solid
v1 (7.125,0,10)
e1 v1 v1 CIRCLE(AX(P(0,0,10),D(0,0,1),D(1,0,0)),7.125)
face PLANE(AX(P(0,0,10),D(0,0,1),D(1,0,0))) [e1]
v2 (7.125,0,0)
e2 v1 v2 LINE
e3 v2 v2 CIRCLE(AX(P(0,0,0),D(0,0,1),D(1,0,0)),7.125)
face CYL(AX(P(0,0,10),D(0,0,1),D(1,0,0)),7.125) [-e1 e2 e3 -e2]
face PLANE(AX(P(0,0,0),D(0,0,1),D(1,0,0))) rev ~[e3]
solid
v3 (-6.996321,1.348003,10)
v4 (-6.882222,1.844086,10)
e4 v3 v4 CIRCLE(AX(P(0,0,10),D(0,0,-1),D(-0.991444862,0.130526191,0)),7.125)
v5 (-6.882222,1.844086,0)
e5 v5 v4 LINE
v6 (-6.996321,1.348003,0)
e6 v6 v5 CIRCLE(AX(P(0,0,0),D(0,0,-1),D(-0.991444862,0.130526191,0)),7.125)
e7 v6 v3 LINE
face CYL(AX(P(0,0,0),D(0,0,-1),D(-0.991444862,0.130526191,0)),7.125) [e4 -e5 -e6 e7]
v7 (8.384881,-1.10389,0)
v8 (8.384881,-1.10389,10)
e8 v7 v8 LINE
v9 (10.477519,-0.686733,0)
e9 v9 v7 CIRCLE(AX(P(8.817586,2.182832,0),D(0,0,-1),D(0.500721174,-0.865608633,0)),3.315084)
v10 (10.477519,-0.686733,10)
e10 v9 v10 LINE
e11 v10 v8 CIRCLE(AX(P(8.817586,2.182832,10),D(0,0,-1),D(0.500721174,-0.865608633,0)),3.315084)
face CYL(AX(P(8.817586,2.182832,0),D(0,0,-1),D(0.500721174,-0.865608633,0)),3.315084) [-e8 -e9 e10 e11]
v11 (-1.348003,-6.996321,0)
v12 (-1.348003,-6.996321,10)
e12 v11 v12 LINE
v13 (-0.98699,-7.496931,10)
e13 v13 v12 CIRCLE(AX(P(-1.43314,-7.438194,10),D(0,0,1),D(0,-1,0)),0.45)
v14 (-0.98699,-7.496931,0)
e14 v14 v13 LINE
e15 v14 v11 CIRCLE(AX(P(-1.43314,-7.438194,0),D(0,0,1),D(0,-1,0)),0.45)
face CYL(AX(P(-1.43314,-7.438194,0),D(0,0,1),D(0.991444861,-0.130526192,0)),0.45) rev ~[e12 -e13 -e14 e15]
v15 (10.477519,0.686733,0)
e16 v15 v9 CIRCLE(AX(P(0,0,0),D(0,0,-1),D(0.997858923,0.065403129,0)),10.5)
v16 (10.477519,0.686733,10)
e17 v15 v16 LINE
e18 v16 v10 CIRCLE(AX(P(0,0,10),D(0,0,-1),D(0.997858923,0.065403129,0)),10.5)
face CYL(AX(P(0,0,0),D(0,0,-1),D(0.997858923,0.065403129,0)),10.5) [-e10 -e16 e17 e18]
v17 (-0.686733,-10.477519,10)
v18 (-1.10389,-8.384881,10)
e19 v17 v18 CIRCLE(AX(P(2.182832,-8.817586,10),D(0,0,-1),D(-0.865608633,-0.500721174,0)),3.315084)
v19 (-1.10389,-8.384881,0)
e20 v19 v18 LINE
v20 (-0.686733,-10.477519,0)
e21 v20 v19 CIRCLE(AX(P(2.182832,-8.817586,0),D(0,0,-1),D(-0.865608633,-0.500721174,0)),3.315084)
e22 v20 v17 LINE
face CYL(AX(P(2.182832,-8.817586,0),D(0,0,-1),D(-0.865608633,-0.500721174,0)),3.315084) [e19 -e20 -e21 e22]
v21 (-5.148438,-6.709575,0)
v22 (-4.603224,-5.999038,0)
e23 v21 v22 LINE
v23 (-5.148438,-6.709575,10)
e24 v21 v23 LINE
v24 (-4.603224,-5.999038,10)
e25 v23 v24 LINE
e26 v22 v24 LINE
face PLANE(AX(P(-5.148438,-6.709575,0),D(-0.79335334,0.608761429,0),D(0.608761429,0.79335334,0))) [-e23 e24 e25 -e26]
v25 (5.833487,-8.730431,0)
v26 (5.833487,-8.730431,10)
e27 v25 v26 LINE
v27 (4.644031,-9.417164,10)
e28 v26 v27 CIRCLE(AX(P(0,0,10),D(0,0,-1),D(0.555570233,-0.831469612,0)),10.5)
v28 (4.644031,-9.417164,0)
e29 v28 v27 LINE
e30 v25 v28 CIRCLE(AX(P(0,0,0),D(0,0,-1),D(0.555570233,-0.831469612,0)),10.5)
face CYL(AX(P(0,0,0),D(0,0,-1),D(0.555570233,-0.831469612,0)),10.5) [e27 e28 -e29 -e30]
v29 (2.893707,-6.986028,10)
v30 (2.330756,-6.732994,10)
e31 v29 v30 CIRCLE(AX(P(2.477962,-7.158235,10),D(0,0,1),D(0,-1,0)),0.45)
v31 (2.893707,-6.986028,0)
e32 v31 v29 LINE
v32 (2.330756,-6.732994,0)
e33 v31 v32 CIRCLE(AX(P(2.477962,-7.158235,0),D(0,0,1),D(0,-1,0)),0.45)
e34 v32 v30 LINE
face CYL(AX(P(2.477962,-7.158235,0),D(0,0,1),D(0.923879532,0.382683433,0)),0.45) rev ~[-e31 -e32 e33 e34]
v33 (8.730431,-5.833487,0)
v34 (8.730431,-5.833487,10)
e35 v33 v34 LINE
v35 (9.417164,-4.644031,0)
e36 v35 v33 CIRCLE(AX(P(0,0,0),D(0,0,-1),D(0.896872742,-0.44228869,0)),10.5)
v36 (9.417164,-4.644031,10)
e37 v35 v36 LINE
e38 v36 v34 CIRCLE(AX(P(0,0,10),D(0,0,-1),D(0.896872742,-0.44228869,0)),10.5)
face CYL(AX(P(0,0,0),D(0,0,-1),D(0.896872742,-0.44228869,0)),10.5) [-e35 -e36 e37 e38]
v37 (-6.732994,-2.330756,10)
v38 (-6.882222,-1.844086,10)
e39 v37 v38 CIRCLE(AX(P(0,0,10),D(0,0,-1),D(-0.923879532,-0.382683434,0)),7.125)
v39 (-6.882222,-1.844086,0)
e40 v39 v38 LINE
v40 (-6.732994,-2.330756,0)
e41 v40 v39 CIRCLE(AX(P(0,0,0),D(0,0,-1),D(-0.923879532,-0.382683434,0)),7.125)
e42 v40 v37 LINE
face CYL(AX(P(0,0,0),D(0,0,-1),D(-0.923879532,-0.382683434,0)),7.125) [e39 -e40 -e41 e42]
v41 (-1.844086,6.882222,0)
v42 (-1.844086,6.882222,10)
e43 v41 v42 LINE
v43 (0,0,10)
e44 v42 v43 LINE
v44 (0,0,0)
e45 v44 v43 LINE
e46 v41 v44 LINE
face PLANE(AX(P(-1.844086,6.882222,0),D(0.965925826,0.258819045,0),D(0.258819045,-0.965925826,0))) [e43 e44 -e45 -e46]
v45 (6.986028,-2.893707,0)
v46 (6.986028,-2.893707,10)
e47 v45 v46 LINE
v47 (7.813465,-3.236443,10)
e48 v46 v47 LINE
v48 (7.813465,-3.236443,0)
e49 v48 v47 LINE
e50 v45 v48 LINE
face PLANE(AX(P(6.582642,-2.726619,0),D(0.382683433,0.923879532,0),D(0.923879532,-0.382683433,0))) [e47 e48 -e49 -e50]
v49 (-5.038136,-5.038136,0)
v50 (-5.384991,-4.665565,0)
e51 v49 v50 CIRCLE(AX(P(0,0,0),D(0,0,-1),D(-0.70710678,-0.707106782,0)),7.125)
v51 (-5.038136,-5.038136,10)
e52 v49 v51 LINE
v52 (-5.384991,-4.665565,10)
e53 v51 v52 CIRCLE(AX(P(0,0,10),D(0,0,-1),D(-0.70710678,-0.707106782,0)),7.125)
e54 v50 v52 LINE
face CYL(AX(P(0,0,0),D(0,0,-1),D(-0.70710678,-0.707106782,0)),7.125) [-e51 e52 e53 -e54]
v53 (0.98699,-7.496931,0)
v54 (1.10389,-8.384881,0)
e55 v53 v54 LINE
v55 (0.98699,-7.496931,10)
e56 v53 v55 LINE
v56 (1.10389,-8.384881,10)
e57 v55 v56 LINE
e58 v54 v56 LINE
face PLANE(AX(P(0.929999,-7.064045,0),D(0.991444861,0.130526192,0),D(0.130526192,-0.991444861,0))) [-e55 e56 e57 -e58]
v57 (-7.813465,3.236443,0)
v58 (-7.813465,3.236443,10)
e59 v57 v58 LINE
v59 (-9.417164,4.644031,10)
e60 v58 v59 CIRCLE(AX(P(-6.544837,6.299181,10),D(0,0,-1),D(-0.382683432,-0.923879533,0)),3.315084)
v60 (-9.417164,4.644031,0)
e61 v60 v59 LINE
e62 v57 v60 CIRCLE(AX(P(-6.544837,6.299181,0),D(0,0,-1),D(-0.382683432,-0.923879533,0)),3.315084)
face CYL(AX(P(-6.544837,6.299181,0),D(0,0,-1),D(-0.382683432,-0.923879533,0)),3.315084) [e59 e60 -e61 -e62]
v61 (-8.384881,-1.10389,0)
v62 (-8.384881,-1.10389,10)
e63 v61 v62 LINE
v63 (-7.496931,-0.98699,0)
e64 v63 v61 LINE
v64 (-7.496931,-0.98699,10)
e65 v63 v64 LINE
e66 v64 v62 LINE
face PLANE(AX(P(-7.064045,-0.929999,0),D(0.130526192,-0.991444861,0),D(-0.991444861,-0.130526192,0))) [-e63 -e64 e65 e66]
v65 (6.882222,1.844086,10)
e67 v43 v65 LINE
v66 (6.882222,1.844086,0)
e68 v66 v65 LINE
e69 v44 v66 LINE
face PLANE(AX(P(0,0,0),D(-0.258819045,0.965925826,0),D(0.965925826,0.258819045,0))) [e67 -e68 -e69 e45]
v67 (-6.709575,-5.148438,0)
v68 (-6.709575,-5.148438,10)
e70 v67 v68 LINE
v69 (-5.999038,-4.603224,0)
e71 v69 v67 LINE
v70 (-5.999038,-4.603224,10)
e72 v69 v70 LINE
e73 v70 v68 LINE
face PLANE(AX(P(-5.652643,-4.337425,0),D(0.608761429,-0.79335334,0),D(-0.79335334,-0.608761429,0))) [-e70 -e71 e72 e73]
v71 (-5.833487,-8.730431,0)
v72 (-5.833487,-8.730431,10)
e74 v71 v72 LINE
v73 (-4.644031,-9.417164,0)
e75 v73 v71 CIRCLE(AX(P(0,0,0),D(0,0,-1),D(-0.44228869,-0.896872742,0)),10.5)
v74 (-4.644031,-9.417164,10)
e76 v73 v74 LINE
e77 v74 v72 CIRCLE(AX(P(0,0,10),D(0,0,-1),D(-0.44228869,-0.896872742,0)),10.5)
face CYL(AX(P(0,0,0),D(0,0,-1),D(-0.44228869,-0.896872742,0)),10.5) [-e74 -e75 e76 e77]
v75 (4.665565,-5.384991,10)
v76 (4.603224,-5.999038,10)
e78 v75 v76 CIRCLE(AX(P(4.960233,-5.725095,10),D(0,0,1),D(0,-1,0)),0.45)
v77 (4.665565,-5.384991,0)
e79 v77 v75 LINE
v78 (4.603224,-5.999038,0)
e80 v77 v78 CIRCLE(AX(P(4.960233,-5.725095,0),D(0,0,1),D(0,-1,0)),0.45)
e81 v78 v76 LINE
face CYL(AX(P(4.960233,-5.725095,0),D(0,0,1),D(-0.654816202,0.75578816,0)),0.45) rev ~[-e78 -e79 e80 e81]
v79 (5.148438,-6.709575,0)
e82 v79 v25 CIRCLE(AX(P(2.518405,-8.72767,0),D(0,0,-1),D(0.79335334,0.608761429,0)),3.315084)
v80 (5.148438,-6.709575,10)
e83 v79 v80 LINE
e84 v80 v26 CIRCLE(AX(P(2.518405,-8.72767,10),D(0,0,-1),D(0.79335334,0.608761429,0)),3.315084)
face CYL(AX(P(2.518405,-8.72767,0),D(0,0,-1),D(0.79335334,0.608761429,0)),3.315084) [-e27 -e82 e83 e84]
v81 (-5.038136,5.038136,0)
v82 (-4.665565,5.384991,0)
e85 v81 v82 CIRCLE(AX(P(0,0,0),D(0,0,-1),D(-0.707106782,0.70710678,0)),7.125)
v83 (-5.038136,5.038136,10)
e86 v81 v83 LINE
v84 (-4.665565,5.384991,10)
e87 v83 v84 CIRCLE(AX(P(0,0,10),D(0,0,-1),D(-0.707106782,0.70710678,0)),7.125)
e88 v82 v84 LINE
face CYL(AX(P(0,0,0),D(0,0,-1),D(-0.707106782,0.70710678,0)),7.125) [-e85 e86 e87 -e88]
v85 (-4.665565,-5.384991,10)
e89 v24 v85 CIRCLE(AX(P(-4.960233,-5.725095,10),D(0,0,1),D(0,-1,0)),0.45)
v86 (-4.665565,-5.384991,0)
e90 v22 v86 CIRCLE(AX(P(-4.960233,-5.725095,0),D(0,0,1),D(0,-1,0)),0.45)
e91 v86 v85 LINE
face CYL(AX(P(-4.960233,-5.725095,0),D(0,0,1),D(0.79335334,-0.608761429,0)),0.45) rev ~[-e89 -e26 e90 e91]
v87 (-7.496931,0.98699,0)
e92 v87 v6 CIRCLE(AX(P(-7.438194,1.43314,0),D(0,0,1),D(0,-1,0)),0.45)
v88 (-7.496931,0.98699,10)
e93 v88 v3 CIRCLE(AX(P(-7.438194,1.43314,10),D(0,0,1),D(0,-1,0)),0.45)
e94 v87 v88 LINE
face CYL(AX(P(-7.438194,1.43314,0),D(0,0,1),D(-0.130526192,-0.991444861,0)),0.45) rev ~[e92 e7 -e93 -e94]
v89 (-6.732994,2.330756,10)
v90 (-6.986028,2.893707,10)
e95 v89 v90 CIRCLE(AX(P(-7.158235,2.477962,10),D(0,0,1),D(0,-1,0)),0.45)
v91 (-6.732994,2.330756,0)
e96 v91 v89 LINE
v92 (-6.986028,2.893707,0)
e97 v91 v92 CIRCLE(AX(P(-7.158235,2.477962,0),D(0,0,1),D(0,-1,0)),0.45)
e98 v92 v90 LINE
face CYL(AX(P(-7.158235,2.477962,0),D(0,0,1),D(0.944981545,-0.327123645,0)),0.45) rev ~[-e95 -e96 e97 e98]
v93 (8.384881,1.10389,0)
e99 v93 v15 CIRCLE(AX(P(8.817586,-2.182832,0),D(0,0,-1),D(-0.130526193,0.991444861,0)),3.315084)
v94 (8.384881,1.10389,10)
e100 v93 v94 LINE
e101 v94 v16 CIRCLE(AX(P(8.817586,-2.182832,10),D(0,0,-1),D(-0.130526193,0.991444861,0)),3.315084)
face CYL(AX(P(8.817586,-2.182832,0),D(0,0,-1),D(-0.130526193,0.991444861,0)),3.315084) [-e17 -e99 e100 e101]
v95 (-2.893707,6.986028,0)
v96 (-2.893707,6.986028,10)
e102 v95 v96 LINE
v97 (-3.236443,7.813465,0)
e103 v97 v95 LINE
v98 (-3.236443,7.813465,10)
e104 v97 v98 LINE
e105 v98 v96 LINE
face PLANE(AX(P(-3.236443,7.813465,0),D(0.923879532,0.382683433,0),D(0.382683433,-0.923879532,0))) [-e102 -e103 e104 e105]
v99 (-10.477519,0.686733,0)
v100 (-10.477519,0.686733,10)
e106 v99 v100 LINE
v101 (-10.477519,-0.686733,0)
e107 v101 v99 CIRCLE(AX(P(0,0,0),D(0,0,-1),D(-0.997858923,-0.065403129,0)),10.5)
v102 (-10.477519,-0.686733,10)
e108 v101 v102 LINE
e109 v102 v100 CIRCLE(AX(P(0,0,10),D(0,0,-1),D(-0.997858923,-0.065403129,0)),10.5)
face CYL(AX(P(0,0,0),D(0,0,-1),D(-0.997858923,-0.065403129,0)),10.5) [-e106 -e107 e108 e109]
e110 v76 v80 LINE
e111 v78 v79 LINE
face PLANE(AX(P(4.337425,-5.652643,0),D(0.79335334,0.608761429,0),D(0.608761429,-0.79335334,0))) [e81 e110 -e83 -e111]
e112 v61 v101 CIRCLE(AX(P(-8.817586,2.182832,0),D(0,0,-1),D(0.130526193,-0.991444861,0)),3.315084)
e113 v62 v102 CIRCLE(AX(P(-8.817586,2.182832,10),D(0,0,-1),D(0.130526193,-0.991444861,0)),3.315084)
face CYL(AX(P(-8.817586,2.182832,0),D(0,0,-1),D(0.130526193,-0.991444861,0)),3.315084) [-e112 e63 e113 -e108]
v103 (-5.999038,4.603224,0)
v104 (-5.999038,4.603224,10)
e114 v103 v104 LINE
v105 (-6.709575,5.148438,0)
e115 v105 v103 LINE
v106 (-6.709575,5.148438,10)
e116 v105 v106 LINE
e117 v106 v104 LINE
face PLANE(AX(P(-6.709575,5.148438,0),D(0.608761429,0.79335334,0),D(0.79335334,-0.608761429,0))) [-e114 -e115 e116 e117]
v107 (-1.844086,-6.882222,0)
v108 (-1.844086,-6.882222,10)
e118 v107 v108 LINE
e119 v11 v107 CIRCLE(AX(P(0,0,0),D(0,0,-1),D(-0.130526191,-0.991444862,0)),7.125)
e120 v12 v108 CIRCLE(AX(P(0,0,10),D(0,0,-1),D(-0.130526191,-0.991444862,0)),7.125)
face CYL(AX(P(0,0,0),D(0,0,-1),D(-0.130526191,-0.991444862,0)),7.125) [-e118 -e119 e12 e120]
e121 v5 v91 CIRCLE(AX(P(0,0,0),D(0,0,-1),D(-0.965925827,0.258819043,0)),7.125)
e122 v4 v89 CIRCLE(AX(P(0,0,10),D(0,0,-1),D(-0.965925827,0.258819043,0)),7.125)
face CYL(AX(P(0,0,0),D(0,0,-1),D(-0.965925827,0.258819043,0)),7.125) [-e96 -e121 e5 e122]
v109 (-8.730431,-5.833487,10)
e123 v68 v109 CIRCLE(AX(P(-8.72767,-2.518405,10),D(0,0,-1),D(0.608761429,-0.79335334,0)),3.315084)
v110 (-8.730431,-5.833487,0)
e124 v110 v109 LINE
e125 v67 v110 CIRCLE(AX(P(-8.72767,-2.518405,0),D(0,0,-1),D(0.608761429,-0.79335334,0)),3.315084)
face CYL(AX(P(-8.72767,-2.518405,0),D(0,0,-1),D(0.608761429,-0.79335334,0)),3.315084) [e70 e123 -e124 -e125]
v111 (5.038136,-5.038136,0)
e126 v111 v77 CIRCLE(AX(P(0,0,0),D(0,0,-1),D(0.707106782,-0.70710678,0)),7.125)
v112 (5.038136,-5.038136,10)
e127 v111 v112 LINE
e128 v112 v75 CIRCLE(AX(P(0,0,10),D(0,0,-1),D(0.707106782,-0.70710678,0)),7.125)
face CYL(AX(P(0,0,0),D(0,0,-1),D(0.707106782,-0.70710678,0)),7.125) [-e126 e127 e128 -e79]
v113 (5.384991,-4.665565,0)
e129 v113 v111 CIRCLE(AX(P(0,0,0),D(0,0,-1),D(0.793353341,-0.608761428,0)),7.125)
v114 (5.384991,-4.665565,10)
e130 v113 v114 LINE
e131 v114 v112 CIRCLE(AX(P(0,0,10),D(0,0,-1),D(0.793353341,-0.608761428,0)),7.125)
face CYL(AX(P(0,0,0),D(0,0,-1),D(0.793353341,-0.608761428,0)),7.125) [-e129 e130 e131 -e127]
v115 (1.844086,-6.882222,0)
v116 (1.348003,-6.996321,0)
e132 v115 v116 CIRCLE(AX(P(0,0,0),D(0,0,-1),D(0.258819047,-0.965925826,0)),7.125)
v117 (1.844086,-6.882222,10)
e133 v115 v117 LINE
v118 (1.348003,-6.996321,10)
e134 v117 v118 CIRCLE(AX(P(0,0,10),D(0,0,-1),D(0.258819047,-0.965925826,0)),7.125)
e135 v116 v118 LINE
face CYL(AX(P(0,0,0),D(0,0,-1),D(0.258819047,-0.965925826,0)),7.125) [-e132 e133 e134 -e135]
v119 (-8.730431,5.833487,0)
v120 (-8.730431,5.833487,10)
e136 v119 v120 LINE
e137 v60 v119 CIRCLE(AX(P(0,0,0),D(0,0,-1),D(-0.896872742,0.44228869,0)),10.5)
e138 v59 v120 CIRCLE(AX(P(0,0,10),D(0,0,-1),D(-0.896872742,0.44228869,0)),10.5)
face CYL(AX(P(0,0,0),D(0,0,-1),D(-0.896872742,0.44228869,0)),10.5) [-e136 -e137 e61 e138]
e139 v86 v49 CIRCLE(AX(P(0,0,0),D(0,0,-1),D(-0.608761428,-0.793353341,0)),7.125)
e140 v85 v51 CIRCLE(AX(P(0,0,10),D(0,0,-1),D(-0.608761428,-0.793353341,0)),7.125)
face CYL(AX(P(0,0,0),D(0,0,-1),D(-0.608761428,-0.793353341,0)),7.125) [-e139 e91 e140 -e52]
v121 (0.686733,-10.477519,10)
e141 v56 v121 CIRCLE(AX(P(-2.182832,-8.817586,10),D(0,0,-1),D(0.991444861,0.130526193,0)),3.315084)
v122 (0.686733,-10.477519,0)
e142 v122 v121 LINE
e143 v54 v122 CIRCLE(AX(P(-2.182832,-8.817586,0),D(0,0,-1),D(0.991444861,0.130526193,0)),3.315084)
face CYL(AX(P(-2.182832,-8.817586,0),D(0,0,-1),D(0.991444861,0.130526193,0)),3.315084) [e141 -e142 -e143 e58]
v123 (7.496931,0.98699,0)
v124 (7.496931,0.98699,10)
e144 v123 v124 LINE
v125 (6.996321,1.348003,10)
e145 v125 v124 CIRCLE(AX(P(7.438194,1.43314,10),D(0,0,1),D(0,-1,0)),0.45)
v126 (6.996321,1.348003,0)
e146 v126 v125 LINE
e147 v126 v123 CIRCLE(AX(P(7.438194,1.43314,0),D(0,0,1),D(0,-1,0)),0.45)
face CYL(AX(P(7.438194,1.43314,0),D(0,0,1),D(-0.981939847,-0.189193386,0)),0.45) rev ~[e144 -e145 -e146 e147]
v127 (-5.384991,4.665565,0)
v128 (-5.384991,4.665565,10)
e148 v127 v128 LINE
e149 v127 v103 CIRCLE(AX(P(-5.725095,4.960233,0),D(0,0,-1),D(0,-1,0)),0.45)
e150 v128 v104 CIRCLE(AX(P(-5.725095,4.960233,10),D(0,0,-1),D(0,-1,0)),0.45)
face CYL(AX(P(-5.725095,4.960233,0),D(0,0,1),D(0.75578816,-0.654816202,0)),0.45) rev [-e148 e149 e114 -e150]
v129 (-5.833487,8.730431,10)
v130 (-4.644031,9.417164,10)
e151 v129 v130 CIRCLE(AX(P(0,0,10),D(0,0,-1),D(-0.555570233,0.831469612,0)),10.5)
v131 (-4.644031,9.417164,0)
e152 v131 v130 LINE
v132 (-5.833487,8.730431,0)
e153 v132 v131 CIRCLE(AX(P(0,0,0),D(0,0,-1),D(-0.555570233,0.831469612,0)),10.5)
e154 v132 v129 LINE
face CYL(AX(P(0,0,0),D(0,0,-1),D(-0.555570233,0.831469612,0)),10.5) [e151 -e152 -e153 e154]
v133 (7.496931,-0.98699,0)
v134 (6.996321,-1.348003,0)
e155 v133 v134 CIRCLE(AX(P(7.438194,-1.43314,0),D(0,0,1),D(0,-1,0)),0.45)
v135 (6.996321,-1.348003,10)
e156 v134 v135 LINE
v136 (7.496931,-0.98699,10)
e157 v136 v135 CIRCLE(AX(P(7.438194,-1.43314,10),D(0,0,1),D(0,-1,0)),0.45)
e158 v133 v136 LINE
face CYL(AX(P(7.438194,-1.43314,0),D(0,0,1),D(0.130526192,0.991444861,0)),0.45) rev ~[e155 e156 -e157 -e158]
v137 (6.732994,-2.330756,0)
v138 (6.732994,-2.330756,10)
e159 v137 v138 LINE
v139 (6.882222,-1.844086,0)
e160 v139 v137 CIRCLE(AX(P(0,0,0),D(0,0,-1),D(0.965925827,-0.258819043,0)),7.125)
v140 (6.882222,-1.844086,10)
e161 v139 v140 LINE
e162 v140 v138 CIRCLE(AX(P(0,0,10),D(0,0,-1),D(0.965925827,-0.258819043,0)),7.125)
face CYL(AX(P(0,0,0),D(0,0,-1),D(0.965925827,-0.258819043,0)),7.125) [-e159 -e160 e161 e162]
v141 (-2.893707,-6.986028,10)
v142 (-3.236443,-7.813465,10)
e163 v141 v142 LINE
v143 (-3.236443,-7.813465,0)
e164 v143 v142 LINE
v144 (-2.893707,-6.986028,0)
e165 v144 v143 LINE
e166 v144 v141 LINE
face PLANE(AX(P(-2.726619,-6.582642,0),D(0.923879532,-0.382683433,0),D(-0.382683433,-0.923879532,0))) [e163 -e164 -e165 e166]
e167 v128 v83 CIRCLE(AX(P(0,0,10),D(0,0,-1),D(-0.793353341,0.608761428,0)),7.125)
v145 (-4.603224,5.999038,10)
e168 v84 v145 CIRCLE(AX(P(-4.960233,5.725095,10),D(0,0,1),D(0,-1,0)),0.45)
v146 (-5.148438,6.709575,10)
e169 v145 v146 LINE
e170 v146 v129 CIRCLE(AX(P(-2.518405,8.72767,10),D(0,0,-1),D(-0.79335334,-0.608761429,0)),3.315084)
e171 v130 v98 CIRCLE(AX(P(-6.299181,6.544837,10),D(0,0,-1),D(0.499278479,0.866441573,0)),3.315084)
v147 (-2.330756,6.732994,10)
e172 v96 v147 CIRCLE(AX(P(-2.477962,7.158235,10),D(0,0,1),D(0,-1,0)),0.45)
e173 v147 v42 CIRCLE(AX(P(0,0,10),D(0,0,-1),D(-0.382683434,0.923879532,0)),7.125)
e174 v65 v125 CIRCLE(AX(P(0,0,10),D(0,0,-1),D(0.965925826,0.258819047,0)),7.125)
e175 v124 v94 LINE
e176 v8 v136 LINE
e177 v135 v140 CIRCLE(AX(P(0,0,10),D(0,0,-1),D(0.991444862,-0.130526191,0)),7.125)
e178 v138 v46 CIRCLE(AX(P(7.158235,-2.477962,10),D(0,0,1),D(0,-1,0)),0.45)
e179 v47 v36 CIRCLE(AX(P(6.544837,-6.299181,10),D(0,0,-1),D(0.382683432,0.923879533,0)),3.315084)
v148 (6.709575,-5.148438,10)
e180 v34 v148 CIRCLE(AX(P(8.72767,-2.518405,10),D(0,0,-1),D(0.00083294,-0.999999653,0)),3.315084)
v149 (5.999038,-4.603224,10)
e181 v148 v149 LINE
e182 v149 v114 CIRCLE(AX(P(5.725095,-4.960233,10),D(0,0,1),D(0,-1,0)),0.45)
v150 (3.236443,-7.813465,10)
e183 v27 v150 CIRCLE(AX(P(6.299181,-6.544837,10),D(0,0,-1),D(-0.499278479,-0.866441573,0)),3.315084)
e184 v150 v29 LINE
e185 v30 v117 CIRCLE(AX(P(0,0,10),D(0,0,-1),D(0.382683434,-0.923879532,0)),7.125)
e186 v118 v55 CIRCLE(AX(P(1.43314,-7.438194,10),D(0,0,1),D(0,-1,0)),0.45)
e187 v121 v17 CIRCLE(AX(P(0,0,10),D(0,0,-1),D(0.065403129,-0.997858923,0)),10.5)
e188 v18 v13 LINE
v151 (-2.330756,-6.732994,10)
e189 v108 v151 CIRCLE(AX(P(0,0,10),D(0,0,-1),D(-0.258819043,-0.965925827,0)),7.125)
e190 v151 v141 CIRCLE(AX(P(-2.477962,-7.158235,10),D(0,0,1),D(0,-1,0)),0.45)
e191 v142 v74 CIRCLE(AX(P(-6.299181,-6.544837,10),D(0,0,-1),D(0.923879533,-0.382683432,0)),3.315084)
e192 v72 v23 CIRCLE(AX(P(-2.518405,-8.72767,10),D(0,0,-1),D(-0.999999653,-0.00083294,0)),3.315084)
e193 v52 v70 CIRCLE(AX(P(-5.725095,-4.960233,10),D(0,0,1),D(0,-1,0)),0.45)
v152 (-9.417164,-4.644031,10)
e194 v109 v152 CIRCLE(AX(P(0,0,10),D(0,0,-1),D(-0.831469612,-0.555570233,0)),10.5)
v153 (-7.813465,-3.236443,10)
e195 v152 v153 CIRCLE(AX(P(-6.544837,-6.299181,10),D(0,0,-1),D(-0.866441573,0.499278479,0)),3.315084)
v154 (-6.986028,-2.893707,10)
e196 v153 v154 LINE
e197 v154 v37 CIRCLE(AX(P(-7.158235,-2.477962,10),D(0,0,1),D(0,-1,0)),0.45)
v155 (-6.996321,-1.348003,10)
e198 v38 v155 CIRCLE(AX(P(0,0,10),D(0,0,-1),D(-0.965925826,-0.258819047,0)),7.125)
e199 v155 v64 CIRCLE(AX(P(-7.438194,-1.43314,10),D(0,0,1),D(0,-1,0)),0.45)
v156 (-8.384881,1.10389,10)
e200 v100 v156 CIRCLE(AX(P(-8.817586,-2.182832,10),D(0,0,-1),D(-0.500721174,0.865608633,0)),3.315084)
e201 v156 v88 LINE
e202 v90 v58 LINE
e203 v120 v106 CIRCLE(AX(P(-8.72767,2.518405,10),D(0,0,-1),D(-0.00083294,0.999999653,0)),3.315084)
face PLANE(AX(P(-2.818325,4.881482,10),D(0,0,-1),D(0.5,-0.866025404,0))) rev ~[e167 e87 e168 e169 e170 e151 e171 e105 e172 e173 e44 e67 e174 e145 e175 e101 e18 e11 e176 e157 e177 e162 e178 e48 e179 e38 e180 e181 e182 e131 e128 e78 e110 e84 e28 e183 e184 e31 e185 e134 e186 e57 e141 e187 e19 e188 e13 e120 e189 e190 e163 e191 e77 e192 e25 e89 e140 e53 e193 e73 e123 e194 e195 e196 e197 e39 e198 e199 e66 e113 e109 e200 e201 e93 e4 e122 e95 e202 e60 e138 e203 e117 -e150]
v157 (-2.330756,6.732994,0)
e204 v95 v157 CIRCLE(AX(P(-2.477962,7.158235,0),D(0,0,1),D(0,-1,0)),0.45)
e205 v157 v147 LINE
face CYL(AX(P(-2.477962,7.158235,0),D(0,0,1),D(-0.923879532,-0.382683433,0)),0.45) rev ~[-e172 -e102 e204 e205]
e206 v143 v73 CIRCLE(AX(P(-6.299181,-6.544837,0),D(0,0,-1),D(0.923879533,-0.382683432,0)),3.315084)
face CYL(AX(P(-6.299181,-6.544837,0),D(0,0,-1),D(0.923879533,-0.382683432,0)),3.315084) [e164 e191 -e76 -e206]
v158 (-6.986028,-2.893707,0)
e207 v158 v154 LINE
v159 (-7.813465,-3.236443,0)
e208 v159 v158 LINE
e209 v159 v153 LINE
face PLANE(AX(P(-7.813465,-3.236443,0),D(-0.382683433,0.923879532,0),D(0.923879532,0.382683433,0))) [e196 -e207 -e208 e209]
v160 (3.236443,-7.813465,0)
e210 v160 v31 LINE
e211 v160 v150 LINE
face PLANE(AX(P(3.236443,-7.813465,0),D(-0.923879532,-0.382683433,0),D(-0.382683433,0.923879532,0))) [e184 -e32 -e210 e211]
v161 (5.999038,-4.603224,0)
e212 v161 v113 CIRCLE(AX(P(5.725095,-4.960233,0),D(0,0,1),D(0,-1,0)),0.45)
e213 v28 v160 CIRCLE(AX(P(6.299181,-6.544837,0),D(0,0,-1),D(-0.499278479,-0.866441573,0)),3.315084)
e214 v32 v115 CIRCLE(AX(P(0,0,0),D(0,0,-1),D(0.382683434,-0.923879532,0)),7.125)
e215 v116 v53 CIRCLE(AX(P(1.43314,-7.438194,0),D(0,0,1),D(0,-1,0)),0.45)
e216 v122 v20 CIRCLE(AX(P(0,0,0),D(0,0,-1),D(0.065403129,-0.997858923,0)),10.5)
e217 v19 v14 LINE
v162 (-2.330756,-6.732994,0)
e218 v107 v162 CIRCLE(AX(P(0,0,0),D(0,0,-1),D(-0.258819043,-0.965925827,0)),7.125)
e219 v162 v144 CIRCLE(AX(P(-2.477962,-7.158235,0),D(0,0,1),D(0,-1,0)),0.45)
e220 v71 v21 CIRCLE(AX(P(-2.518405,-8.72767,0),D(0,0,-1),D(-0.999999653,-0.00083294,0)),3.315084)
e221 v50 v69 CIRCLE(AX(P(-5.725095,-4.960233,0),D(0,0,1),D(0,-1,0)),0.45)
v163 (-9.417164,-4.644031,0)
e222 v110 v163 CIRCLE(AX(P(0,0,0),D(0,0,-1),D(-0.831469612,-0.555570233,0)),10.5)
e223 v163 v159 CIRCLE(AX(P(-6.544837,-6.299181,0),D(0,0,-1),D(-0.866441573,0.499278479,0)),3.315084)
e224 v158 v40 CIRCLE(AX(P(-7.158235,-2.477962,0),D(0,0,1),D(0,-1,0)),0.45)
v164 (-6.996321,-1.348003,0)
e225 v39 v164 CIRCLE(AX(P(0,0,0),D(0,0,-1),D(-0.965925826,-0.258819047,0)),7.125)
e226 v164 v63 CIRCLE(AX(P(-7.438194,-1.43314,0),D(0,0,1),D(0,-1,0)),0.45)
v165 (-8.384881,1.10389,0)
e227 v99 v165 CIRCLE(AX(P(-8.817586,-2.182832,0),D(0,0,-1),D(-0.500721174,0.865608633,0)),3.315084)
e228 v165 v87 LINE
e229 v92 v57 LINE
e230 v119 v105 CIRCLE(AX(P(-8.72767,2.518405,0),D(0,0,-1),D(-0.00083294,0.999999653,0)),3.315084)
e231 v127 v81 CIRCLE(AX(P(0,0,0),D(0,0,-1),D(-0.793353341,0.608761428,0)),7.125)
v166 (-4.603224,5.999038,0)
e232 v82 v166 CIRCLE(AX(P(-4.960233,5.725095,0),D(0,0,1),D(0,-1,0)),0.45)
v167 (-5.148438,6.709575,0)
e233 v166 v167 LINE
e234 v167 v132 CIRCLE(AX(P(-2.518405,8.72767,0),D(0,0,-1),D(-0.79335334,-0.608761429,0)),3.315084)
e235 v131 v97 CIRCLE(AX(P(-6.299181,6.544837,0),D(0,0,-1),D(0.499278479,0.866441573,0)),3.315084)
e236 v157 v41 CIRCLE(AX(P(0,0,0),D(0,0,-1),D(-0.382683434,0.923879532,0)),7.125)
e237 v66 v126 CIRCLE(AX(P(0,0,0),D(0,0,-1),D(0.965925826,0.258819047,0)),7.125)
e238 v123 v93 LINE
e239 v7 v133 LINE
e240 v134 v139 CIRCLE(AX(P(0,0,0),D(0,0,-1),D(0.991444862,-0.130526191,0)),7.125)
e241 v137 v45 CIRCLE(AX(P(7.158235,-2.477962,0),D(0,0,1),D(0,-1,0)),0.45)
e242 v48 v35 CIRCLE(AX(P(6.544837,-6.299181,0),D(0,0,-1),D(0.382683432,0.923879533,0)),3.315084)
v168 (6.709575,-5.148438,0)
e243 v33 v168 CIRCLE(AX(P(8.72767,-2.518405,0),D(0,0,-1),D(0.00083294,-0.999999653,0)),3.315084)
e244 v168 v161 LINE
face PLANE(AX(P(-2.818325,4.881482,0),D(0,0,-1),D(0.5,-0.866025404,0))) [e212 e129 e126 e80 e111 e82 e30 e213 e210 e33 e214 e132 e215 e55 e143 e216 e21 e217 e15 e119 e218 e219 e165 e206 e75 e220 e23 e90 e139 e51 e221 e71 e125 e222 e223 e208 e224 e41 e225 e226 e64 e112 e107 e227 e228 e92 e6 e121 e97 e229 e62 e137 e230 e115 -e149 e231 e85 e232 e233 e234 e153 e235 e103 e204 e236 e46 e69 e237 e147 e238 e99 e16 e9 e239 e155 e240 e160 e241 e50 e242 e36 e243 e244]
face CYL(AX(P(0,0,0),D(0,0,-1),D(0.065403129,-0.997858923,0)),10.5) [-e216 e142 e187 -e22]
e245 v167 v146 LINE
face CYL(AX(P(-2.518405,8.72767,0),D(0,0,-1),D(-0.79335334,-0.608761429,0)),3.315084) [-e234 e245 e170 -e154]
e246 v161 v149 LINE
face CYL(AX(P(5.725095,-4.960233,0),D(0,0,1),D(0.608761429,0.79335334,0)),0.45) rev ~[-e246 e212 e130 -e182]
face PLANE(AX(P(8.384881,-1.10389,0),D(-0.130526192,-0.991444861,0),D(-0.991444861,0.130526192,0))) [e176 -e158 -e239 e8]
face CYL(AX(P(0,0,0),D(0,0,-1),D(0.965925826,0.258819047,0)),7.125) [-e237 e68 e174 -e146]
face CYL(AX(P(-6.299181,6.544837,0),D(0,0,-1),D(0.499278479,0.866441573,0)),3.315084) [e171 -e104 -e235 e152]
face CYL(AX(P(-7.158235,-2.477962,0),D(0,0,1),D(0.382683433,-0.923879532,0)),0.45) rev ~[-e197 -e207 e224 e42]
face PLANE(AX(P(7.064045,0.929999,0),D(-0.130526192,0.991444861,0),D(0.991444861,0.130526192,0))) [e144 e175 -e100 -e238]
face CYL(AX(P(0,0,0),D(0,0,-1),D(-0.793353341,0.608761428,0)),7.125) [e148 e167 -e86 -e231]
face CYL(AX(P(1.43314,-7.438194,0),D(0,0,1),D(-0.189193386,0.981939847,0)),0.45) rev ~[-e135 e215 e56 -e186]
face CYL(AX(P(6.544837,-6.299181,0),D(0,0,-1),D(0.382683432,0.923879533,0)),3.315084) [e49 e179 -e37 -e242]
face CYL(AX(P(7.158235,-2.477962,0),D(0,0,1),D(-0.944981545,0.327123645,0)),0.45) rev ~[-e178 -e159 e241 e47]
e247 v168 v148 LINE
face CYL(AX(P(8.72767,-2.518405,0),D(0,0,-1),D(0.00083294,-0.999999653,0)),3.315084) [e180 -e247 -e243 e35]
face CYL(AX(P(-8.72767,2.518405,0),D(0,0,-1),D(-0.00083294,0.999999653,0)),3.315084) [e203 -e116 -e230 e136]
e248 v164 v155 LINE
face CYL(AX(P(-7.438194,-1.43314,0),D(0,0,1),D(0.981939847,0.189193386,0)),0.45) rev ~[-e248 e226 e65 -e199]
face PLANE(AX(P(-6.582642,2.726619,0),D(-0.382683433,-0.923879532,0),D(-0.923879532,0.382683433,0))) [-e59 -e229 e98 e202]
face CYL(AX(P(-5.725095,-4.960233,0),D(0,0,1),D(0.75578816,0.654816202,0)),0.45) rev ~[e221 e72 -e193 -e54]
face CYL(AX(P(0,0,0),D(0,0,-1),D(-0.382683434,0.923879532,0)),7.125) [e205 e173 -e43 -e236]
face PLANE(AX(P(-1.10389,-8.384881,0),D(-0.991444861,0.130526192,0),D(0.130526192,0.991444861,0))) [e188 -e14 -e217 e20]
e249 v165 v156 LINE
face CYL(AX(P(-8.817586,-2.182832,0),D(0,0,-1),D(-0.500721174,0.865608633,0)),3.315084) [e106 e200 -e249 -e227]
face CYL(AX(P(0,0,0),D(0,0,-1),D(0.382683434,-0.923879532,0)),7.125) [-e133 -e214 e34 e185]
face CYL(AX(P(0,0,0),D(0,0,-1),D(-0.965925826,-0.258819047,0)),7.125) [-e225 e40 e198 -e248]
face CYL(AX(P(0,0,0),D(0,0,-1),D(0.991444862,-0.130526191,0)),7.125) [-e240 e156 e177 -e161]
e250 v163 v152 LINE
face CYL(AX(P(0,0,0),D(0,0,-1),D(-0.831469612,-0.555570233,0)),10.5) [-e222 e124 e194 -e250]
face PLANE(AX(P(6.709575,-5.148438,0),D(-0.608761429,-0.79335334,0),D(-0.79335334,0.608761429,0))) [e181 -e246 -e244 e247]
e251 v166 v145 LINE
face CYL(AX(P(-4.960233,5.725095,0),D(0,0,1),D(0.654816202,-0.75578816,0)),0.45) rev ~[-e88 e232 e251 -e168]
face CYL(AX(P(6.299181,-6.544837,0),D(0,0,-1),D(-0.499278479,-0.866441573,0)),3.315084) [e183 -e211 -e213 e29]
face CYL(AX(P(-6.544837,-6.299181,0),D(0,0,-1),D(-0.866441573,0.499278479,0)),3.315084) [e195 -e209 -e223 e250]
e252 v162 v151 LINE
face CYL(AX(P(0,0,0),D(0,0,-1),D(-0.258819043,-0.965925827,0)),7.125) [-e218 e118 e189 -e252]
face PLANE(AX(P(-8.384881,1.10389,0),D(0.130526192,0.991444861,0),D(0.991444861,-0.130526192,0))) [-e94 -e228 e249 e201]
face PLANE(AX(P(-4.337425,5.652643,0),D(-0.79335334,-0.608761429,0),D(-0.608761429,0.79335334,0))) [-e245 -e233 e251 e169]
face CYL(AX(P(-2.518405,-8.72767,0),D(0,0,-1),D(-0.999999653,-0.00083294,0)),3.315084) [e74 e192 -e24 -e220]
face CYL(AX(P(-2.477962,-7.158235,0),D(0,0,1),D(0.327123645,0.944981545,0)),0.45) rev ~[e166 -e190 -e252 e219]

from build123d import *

# Parameters (mm, degrees)
MAINGEAR_DEPTH                     = 10
CONG_1_R                           = 0.45
R_P_TITION_CIRCULAIRE1_COUNT       = 9
R_P_TITION_CIRCULAIRE1_ANGLE       = 240
CONG_1_OF_R_P_TITION_CIRCULAIRE1_R = 0.45
ESQUISSE5_R                        = 7.125
MAINBASECIRCLE_DEPTH               = 10


with BuildPart() as part:
    # Esquisse1 → MainGear (new body)
    with BuildSketch(Plane.XY):
        with BuildLine():
            Line((0, 0), (6.882221512, 1.844085696))
            ThreePointArc((6.882221512, 1.844085696), (6.988095123, 1.390018544), (7.064044637, 0.92999912))
            Line((7.064044637, 0.92999912), (8.384880781, 1.103890497))
            ThreePointArc((8.384880781, 1.103890497), (9.465680859, 1.068283463), (10.477518694, 0.686732857))
            ThreePointArc((10.477518694, 0.686732857), (10.5, 0), (10.477518694, -0.686732857))
            ThreePointArc((10.477518694, -0.686732857), (9.465680859, -1.068283463), (8.384880781, -1.103890497))
            Line((8.384880781, -1.103890497), (7.064044637, -0.92999912))
            ThreePointArc((7.064044637, -0.92999912), (6.988095123, -1.390018544), (6.882221512, -1.844085696))
            Line((6.882221512, -1.844085696), (0, 0))
        make_face()
    maingear = extrude(amount=MAINGEAR_DEPTH)

    # Congé1
    cong_1_edges = [part.edges().sort_by_distance(p)[0] for p in [
        (7.064044637, 0.92999912, 5),
        (7.064044637, -0.92999912, 5),
    ]]
    fillet(cong_1_edges, radius=CONG_1_R)

    # Répétition circulaire1: MainGear ×9 about axis
    r_p_tition_circulaire1_axis = Axis((0, 0, 0), (0, 0, -1))
    for i in range(1, R_P_TITION_CIRCULAIRE1_COUNT):
        add(maingear.rotate(r_p_tition_circulaire1_axis, i * R_P_TITION_CIRCULAIRE1_ANGLE / (R_P_TITION_CIRCULAIRE1_COUNT - 1)))

    # Congé1 of Répétition circulaire1
    cong_1_of_r_p_tition_circulaire1_edges = [part.edges().sort_by_distance(p)[0] for p in [
        (6.582641669, -2.726619456, 5),
        (5.65264255, -4.337425182, 5),
        (4.337425182, -5.65264255, 5),
        (2.726619456, -6.582641669, 5),
        (0.92999912, -7.064044637, 5),
        (-0.92999912, -7.064044637, 5),
        (-2.726619456, -6.582641669, 5),
        (-4.337425182, -5.65264255, 5),
        (-5.65264255, -4.337425182, 5),
        (-6.582641669, -2.726619456, 5),
        (-7.064044637, -0.92999912, 5),
        (-7.064044637, 0.92999912, 5),
        (-6.582641669, 2.726619456, 5),
        (-5.65264255, 4.337425182, 5),
        (-4.337425182, 5.65264255, 5),
        (-2.726619456, 6.582641669, 5),
    ]]
    fillet(cong_1_of_r_p_tition_circulaire1_edges, radius=CONG_1_OF_R_P_TITION_CIRCULAIRE1_R)


with BuildPart() as body_2:
    # Esquisse5 → MainBaseCircle (new body, through all)
    with BuildSketch(Plane.XY.offset(10)):
        Circle(ESQUISSE5_R)
    extrude(amount=-MAINBASECIRCLE_DEPTH)


solid = Compound([part.part, body_2.part])
